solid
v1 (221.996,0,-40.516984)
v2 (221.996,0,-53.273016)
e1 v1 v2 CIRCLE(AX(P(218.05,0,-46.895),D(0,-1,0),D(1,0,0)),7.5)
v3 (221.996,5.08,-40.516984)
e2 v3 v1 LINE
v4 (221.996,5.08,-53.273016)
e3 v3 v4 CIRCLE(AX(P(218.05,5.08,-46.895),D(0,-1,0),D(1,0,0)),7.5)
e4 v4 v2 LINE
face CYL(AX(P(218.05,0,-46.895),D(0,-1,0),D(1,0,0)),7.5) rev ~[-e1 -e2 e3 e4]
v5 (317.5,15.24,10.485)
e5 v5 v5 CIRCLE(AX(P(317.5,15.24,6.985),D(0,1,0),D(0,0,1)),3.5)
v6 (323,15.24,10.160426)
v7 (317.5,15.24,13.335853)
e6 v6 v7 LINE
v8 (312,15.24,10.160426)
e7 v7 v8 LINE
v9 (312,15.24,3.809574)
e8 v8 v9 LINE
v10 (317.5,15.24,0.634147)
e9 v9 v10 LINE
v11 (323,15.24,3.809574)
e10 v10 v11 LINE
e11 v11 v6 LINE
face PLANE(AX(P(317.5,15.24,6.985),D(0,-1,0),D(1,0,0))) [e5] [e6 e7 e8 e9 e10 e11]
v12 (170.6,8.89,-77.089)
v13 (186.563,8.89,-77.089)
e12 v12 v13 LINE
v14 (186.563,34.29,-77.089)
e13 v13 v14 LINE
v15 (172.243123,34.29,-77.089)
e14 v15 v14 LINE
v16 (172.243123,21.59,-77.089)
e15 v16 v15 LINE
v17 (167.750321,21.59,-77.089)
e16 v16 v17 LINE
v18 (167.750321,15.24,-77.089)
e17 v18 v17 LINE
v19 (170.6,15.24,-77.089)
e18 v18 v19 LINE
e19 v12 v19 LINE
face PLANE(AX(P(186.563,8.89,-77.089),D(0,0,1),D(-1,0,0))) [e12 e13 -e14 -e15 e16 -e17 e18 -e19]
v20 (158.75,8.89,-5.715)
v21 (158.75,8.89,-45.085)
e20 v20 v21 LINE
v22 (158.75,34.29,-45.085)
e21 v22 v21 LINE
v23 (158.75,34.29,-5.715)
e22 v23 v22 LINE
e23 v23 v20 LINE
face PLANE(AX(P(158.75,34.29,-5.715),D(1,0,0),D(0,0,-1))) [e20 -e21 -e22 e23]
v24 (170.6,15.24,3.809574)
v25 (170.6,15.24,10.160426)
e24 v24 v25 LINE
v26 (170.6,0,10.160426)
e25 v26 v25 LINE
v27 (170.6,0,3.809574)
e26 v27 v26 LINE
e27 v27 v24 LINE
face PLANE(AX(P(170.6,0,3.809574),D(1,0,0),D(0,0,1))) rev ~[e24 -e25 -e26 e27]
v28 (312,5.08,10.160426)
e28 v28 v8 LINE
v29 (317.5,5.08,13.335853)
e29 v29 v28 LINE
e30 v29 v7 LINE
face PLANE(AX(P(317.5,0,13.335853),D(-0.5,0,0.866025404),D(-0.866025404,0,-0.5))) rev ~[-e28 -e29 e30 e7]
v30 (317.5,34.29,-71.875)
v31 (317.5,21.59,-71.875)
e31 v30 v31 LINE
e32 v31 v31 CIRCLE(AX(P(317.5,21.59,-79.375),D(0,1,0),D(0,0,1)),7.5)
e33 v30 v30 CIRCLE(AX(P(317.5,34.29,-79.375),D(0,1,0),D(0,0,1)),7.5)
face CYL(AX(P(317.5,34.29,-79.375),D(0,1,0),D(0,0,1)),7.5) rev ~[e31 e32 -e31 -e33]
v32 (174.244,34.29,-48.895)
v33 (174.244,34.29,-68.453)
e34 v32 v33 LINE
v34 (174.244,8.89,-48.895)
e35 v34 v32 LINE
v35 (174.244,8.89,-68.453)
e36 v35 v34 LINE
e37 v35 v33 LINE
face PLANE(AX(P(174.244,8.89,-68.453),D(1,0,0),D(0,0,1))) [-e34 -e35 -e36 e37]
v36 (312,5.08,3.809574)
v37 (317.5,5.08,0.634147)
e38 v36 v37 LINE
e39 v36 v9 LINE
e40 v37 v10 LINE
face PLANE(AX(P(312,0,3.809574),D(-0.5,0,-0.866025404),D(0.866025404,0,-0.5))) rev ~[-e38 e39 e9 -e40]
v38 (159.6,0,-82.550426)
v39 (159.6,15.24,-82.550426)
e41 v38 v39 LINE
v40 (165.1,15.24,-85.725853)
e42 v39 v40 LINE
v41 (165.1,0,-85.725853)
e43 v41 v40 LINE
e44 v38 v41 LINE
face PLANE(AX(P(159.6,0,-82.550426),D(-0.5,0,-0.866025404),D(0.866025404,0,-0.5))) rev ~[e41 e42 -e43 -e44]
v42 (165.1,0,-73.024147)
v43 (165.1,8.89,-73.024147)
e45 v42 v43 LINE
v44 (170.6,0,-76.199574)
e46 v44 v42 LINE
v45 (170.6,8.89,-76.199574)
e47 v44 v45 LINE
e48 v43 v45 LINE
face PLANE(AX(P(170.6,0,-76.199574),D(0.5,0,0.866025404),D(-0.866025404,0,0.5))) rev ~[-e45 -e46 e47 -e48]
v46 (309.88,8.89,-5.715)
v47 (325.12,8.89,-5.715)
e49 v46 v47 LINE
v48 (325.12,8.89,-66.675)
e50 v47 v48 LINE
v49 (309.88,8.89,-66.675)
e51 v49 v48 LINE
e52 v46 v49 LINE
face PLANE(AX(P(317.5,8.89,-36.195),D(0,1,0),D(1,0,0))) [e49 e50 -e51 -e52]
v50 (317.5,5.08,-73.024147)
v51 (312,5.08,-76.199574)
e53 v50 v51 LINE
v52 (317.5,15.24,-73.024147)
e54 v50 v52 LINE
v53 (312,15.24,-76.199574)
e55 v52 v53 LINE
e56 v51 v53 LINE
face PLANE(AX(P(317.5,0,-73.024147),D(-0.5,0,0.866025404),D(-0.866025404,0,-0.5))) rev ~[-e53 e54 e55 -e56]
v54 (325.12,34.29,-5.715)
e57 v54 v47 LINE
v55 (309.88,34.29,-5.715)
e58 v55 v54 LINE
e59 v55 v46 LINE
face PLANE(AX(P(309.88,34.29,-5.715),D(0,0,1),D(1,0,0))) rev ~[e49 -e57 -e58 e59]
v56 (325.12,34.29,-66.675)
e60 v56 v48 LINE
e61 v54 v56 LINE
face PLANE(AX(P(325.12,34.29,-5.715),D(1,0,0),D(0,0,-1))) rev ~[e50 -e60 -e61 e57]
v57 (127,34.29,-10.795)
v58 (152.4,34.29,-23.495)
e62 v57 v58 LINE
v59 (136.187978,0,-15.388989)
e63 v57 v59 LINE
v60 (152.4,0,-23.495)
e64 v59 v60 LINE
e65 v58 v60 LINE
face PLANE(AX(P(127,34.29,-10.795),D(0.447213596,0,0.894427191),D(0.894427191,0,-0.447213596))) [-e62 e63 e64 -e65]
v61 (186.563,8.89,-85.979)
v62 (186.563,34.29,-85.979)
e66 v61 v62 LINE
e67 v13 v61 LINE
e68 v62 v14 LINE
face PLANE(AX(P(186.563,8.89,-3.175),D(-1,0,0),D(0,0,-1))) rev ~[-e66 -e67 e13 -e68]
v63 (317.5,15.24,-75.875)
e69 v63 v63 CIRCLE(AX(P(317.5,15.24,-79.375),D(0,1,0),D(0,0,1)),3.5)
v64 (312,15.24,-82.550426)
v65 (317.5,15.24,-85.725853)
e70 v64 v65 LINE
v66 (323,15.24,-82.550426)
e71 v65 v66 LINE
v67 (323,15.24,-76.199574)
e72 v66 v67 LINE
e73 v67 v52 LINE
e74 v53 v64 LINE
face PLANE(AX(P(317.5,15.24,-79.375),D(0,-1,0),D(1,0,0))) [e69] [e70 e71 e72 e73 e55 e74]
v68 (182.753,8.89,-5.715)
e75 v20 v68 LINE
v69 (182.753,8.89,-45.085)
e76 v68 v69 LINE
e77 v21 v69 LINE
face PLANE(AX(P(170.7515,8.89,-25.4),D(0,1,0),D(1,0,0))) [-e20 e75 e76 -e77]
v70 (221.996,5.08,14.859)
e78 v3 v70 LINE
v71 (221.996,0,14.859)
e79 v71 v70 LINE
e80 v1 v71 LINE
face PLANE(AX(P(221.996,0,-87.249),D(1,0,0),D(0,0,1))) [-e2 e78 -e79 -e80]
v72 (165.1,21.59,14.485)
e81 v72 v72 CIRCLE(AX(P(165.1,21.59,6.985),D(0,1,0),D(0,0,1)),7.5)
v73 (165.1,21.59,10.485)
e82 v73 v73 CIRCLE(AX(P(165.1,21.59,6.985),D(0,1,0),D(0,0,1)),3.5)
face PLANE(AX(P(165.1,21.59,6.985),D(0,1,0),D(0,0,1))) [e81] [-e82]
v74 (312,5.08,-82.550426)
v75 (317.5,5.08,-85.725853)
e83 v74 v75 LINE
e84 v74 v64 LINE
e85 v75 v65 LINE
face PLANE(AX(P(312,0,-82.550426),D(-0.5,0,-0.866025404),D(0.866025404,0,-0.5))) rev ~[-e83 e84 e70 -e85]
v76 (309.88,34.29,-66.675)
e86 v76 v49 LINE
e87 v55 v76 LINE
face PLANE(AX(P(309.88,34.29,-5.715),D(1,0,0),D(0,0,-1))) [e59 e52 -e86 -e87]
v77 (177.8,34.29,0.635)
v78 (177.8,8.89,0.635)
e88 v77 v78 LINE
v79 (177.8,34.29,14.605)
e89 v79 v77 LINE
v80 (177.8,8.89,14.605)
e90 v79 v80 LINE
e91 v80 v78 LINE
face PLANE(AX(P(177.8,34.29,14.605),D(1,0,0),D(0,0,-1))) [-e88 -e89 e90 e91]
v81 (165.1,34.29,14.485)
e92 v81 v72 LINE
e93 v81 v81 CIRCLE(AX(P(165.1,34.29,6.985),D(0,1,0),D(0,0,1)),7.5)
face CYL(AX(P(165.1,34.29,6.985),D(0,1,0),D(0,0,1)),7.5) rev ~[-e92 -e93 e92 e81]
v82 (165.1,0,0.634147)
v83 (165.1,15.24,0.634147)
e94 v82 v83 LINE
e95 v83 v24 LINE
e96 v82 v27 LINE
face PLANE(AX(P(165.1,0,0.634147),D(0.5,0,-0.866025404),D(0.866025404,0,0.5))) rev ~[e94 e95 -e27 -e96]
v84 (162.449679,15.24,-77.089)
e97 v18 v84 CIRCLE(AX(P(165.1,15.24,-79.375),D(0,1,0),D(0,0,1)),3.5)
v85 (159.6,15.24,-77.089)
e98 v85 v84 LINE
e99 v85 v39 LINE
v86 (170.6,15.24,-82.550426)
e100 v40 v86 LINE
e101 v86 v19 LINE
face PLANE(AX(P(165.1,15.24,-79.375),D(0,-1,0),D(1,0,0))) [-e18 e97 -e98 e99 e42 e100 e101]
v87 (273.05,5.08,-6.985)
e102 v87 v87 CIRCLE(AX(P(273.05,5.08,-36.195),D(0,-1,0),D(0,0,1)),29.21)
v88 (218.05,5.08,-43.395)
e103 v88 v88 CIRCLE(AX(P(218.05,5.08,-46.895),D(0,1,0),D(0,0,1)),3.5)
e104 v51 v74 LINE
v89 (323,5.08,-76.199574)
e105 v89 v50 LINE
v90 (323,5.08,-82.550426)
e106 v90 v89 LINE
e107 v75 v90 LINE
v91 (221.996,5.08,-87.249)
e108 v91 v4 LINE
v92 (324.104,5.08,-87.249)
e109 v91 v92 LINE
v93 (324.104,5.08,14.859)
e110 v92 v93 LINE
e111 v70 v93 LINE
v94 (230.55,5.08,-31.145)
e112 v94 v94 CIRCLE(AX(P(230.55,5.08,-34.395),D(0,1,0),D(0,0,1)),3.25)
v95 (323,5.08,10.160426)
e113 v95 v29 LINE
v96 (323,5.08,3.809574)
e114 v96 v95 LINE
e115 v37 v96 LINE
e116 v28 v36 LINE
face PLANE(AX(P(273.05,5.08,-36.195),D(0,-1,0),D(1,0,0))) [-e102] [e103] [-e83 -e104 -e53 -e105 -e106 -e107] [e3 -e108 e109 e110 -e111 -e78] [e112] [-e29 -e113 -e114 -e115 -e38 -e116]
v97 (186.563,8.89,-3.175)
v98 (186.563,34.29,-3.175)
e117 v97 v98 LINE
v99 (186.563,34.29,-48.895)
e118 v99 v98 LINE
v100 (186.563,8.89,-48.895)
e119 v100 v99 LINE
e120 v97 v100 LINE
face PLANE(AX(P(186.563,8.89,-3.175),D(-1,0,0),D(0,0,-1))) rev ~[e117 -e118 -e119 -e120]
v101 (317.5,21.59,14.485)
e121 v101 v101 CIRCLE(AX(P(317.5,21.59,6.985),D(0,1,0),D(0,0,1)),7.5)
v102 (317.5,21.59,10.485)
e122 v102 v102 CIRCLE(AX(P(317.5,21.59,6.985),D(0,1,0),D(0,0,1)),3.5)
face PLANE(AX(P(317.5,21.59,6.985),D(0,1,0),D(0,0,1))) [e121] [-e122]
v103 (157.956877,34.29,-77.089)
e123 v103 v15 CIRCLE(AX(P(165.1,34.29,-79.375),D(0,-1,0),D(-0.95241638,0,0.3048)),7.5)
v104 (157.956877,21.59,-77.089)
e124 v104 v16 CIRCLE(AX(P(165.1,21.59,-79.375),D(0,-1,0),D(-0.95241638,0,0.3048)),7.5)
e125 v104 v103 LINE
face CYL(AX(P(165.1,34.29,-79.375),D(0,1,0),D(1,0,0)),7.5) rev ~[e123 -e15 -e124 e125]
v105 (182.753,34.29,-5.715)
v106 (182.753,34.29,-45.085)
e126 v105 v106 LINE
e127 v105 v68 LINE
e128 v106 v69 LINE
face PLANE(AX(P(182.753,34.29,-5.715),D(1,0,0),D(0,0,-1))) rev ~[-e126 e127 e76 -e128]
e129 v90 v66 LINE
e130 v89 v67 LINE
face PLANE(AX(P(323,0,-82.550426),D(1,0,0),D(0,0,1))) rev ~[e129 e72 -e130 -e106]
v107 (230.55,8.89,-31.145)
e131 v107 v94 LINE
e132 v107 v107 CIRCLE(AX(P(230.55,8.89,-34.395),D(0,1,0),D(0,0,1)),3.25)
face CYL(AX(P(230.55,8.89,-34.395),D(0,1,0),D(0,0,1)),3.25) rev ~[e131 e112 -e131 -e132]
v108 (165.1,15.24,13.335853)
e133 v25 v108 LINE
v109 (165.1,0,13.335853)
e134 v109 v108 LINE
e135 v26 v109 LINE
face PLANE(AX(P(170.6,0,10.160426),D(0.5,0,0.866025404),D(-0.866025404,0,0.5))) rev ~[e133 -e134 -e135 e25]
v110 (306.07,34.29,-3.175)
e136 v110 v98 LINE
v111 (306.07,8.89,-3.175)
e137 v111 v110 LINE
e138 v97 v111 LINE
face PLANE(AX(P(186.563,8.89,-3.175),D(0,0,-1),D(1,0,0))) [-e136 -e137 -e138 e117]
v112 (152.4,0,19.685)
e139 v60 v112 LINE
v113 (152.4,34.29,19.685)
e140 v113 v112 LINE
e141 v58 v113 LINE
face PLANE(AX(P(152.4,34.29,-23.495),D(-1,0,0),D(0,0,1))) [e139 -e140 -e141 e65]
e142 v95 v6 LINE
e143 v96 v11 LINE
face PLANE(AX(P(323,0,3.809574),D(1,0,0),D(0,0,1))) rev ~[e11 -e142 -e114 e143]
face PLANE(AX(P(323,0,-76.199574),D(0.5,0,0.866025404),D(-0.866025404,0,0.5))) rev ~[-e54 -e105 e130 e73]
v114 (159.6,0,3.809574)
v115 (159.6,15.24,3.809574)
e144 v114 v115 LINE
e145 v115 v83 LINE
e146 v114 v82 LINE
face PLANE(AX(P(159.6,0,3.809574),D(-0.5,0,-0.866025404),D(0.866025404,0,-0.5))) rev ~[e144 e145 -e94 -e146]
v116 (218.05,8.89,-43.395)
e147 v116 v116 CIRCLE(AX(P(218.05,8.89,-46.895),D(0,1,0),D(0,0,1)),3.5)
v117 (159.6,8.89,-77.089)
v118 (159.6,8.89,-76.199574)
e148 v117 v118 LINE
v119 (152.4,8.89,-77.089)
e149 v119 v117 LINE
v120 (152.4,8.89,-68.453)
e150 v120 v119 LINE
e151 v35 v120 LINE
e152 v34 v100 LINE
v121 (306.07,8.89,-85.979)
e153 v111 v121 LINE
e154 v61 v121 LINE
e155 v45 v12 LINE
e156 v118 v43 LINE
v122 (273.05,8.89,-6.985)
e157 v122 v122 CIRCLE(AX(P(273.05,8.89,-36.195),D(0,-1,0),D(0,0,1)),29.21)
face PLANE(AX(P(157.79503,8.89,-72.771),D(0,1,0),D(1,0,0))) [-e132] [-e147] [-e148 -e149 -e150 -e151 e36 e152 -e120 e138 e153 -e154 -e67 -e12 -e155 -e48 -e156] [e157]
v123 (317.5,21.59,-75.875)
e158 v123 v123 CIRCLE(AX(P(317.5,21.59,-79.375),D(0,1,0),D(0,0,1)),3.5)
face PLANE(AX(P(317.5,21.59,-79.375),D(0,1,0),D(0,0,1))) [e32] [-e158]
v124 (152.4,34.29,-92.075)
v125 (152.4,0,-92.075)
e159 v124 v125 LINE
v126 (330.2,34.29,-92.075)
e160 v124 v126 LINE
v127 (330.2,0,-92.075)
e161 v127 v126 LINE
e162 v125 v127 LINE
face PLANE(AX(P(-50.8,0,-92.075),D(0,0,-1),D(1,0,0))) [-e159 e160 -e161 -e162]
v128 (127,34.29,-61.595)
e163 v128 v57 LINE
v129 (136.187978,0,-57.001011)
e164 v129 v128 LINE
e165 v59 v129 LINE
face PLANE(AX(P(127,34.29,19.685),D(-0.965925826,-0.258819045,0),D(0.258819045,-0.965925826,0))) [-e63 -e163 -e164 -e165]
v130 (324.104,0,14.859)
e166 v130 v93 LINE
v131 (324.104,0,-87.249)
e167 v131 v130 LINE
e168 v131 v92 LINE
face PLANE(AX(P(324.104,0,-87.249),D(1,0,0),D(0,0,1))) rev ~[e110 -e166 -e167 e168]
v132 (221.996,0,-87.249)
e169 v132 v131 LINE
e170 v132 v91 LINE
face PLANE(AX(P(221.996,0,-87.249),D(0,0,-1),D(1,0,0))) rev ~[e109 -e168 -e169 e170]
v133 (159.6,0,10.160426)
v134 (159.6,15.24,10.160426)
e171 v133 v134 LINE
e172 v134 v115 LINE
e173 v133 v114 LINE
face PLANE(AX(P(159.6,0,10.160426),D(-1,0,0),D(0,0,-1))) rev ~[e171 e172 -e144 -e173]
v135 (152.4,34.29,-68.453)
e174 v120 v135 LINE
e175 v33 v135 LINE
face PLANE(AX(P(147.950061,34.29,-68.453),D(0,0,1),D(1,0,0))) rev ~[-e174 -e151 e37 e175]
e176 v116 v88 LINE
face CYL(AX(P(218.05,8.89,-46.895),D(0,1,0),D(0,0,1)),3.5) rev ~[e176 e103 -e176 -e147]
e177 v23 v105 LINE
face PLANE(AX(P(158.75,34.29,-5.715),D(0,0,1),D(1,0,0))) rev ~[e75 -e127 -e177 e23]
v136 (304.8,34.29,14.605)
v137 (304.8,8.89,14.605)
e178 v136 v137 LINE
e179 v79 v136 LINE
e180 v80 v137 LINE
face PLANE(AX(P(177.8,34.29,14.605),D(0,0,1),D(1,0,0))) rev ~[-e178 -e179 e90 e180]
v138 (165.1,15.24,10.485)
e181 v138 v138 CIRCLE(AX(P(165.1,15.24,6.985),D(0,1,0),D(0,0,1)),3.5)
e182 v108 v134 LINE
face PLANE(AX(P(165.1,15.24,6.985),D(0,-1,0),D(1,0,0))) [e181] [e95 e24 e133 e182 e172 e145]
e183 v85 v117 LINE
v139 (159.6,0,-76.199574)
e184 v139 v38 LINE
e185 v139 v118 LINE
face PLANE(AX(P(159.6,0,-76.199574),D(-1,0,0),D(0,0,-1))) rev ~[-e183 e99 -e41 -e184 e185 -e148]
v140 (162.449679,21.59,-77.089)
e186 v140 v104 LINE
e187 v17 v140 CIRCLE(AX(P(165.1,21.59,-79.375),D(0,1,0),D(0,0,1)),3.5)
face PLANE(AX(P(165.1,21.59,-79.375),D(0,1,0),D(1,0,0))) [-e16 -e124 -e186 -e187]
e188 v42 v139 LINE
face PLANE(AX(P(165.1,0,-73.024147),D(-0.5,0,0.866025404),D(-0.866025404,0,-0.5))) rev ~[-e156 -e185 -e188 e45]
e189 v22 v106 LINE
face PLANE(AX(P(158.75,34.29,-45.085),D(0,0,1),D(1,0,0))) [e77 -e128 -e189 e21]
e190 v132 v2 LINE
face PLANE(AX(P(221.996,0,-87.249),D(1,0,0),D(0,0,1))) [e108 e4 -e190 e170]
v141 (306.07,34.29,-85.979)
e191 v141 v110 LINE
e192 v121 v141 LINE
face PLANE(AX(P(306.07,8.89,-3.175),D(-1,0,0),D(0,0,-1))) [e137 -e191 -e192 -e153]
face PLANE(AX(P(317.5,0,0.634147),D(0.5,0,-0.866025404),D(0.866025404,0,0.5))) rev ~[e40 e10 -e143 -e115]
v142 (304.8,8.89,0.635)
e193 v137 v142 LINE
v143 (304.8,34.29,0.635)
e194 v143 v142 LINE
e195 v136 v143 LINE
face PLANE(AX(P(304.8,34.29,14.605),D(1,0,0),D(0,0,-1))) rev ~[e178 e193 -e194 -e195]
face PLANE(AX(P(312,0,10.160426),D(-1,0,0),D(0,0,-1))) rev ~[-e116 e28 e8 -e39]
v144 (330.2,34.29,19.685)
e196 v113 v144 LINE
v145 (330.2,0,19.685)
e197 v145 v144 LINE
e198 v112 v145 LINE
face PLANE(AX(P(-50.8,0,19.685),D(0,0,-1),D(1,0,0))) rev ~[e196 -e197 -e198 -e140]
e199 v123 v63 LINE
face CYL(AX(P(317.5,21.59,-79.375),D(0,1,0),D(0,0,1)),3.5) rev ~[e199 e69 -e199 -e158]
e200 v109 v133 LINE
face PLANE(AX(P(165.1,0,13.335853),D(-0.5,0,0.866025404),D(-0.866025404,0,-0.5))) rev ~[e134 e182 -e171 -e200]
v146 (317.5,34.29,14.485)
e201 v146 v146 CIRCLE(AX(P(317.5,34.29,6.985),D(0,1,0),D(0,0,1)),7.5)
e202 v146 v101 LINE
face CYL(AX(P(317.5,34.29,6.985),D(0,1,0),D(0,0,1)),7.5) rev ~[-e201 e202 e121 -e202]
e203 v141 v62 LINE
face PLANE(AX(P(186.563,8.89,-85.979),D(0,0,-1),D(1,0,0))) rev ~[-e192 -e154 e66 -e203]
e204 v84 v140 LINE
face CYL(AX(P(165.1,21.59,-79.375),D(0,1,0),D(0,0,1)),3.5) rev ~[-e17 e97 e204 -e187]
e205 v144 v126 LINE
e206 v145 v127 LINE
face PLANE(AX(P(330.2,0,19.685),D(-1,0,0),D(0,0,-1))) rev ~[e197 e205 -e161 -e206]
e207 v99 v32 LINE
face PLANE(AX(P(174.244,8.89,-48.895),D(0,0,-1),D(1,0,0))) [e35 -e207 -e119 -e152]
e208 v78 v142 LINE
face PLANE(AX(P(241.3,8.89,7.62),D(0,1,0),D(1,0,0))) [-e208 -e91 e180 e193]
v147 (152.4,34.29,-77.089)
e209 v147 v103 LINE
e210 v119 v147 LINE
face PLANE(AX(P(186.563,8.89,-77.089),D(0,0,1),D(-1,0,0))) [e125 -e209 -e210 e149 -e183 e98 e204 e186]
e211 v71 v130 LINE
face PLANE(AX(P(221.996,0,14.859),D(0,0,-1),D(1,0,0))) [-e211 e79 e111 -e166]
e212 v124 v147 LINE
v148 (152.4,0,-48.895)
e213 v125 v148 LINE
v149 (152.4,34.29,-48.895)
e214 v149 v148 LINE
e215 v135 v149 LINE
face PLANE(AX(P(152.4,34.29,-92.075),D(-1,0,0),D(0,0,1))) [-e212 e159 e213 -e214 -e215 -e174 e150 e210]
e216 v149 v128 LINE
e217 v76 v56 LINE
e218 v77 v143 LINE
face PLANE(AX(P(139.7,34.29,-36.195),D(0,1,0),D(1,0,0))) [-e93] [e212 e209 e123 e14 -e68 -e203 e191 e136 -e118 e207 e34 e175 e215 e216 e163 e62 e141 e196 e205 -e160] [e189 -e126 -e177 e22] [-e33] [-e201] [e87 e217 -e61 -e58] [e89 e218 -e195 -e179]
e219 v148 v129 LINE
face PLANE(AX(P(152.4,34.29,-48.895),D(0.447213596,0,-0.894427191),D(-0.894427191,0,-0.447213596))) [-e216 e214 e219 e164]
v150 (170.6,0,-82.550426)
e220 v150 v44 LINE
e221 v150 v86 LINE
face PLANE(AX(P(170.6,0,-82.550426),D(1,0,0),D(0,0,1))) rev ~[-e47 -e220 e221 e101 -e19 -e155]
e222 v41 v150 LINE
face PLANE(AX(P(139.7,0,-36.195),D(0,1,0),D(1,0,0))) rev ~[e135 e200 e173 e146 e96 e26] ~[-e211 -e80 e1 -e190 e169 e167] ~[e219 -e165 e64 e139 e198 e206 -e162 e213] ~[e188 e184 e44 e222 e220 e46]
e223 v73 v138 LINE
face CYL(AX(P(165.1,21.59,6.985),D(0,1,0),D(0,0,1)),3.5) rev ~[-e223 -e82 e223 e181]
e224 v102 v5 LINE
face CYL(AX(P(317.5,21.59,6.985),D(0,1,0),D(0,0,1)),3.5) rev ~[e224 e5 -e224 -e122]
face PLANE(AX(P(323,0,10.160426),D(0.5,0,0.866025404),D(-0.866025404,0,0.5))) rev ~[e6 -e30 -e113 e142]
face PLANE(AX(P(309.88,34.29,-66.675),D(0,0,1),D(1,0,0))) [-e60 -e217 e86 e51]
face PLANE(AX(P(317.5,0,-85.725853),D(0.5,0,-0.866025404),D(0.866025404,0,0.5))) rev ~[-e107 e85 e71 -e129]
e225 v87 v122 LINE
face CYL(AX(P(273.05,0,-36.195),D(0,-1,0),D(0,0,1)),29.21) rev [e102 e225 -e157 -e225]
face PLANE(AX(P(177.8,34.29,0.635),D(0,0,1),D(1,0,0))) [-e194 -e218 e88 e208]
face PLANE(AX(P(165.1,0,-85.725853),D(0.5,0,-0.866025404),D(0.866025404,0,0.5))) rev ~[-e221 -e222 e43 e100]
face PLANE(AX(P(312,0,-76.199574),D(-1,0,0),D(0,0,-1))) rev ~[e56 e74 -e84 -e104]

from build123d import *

# Parameters (mm, degrees)
SKETCH3_W           = 381
SKETCH3_H           = 111.76
BOSS_EXTRUDE1_DEPTH = 34.29
SKETCH2_4_R         = 29.21
CUT_EXTRUDE2_DEPTH  = 127
CUT_EXTRUDE3_START  = 8.89
SKETCH2_5_W         = 119.507
SKETCH2_5_H         = 82.804
CUT_EXTRUDE3_DEPTH  = 127
CUT_EXTRUDE4_START  = 8.89
SKETCH2_W           = 6.604
SKETCH2_H           = 8.636
CUT_EXTRUDE4_DEPTH  = 127
CUT_EXTRUDE6_DEPTH  = 127
CUT_EXTRUDE7_DEPTH  = 127
SKETCH7_W           = 19.689939458
SKETCH7_H           = 8.636
CUT_EXTRUDE8_DEPTH  = 25.4
SKETCH8_W           = 102.108
SKETCH8_H           = 102.108
CUT_EXTRUDE9_DEPTH  = 5.08
SKETCH9_R           = 7.5
CUT_EXTRUDE10_DEPTH = 12.7
SKETCH10_R          = 3.5
CUT_EXTRUDE11_DEPTH = 55.372
CUT_EXTRUDE12_DEPTH = 15.24
SKETCH12_R          = 3.25
SKETCH12_R_2        = 3.5
CUT_EXTRUDE13_DEPTH = 12.446
SKETCH13_R          = 7.5
CUT_EXTRUDE14_DEPTH = 5.08
SKETCH14_W          = 127
SKETCH14_H          = 13.97
SKETCH14_W_2        = 24.003
SKETCH14_H_2        = 39.37
SKETCH14_W_3        = 15.24
SKETCH14_H_3        = 60.96
CUT_EXTRUDE15_DEPTH = 25.4


with BuildPart() as part:
    # Sketch3 → Boss-Extrude1 (new body)
    with BuildSketch(Plane(origin=(0, 0, 0), x_dir=(1, 0, 0), z_dir=(0, 1, 0))):
        with Locations((139.7, 36.195)):
            Rectangle(SKETCH3_W, SKETCH3_H)
    extrude(amount=BOSS_EXTRUDE1_DEPTH)

    # Sketch2<4> → Cut-Extrude2 (cut)
    with BuildSketch(Plane(origin=(0, 0, 0), x_dir=(1, 0, 0), z_dir=(0, 1, 0))):
        with Locations(Location((273.05, 36.195, 0), (0, 0, 270))):
            Circle(SKETCH2_4_R)
    extrude(amount=CUT_EXTRUDE2_DEPTH, mode=Mode.SUBTRACT)

    # Sketch2<5> → Cut-Extrude3 (cut)
    with BuildSketch(Plane(origin=(0, 0, 0), x_dir=(1, 0, 0), z_dir=(0, 1, 0)).offset(CUT_EXTRUDE3_START)):
        with Locations((246.3165, 44.577)):
            Rectangle(SKETCH2_5_W, SKETCH2_5_H)
    extrude(amount=CUT_EXTRUDE3_DEPTH, mode=Mode.SUBTRACT)

    # Sketch2 → Cut-Extrude4 (cut)
    with BuildSketch(Plane(origin=(0, 0, 0), x_dir=(1, 0, 0), z_dir=(0, 1, 0)).offset(CUT_EXTRUDE4_START)):
        Polygon((174.244, 48.895), (186.563, 48.895), (186.563, 77.089), (174.244, 77.089), (174.244, 68.453), align=None)
        with Locations((170.942, 72.771)):
            Rectangle(SKETCH2_W, SKETCH2_H)
    extrude(amount=CUT_EXTRUDE4_DEPTH, mode=Mode.SUBTRACT)

    # Sketch4 → Cut-Extrude6 (cut)
    with BuildSketch(Plane(origin=(0, 34.29, 0), x_dir=(1, 0, 0), z_dir=(0, 1, 0))):
        Polygon((152.4, 48.895), (127, 61.595), (127, 10.795), (152.4, 23.495), (152.4, -19.685), (-50.8, -19.685), (-50.8, 92.075), (152.4, 92.075), align=None)
    extrude(amount=-CUT_EXTRUDE6_DEPTH, mode=Mode.SUBTRACT)

    # Sketch6 → Cut-Extrude7 (cut)
    with BuildSketch(Plane.XY.offset(19.685)):
        Polygon((127, 34.29), (136.187977808, 0), (101.054732315, 0), align=None)
    extrude(amount=-CUT_EXTRUDE7_DEPTH, mode=Mode.SUBTRACT)

    # Sketch7 → Cut-Extrude8 (cut)
    with BuildSketch(Plane(origin=(0, 34.29, 0), x_dir=(1, 0, 0), z_dir=(0, 1, 0))):
        with Locations((157.795030271, 72.771)):
            Rectangle(SKETCH7_W, SKETCH7_H)
    extrude(amount=-CUT_EXTRUDE8_DEPTH, mode=Mode.SUBTRACT)

    # Sketch8 → Cut-Extrude9 (cut)
    with BuildSketch(Plane.XZ):
        with Locations((273.05, -36.195)):
            Rectangle(SKETCH8_W, SKETCH8_H)
    extrude(amount=-CUT_EXTRUDE9_DEPTH, mode=Mode.SUBTRACT)

    # Sketch9 → Cut-Extrude10 (cut)
    with BuildSketch(Plane(origin=(0, 34.29, 0), x_dir=(1, 0, 0), z_dir=(0, 1, 0))):
        with Locations(Location((317.5, 79.375, 0), (0, 0, 270))):
            Circle(SKETCH9_R)
        with Locations(Location((317.5, -6.985, 0), (0, 0, 270))):
            Circle(SKETCH9_R)
        with Locations((165.1, 79.375)):
            Circle(SKETCH9_R)
        with Locations(Location((165.1, -6.985, 0), (0, 0, 270))):
            Circle(SKETCH9_R)
    extrude(amount=-CUT_EXTRUDE10_DEPTH, mode=Mode.SUBTRACT)

    # Sketch10 → Cut-Extrude11 (cut)
    with BuildSketch(Plane(origin=(0, 21.59, 0), x_dir=(1, 0, 0), z_dir=(0, 1, 0))):
        with Locations(Location((317.5, 79.375, 0), (0, 0, 270))):
            Circle(SKETCH10_R)
        with Locations(Location((317.5, -6.985, 0), (0, 0, 270))):
            Circle(SKETCH10_R)
        with Locations(Location((165.1, -6.985, 0), (0, 0, 270))):
            Circle(SKETCH10_R)
        with Locations(Location((165.1, 79.375, 0), (0, 0, 270))):
            Circle(SKETCH10_R)
    extrude(amount=-CUT_EXTRUDE11_DEPTH, mode=Mode.SUBTRACT)

    # Sketch11 → Cut-Extrude12 (cut)
    with BuildSketch(Plane.XZ):
        Polygon((159.6, -82.550426481), (165.1, -85.725852961), (170.6, -82.550426481), (170.6, -76.199573519), (165.1, -73.024147039), (159.6, -76.199573519), align=None)
        Polygon((312, 3.809573519), (317.5, 0.634147039), (323, 3.809573519), (323, 10.160426481), (317.5, 13.335852961), (312, 10.160426481), align=None)
        Polygon((165.1, 0.634147039), (170.6, 3.809573519), (170.6, 10.160426481), (165.1, 13.335852961), (159.6, 10.160426481), (159.6, 3.809573519), align=None)
        Polygon((317.5, -85.725852961), (323, -82.550426481), (323, -76.199573519), (317.5, -73.024147039), (312, -76.199573519), (312, -82.550426481), align=None)
    extrude(amount=-CUT_EXTRUDE12_DEPTH, mode=Mode.SUBTRACT)

    # Sketch12 → Cut-Extrude13 (cut)
    with BuildSketch(Plane(origin=(0, 8.89, 0), x_dir=(1, 0, 0), z_dir=(0, 1, 0))):
        with Locations(Location((230.55, 34.395, 0), (0, 0, 270))):
            Circle(SKETCH12_R)
        with Locations(Location((218.05, 46.895, 0), (0, 0, 270))):
            Circle(SKETCH12_R_2)
    extrude(amount=-CUT_EXTRUDE13_DEPTH, mode=Mode.SUBTRACT)

    # Sketch13 → Cut-Extrude14 (cut)
    with BuildSketch(Plane.XZ):
        with Locations((218.05, -46.895)):
            Circle(SKETCH13_R)
    extrude(amount=-CUT_EXTRUDE14_DEPTH, mode=Mode.SUBTRACT)

    # Sketch14 → Cut-Extrude15 (cut)
    with BuildSketch(Plane(origin=(0, 34.29, 0), x_dir=(1, 0, 0), z_dir=(0, 1, 0))):
        with Locations((241.3, -7.62)):
            Rectangle(SKETCH14_W, SKETCH14_H)
        with Locations((170.7515, 25.4)):
            Rectangle(SKETCH14_W_2, SKETCH14_H_2)
        with Locations((317.5, 36.195)):
            Rectangle(SKETCH14_W_3, SKETCH14_H_3)
    extrude(amount=-CUT_EXTRUDE15_DEPTH, mode=Mode.SUBTRACT)


solid = part.part
